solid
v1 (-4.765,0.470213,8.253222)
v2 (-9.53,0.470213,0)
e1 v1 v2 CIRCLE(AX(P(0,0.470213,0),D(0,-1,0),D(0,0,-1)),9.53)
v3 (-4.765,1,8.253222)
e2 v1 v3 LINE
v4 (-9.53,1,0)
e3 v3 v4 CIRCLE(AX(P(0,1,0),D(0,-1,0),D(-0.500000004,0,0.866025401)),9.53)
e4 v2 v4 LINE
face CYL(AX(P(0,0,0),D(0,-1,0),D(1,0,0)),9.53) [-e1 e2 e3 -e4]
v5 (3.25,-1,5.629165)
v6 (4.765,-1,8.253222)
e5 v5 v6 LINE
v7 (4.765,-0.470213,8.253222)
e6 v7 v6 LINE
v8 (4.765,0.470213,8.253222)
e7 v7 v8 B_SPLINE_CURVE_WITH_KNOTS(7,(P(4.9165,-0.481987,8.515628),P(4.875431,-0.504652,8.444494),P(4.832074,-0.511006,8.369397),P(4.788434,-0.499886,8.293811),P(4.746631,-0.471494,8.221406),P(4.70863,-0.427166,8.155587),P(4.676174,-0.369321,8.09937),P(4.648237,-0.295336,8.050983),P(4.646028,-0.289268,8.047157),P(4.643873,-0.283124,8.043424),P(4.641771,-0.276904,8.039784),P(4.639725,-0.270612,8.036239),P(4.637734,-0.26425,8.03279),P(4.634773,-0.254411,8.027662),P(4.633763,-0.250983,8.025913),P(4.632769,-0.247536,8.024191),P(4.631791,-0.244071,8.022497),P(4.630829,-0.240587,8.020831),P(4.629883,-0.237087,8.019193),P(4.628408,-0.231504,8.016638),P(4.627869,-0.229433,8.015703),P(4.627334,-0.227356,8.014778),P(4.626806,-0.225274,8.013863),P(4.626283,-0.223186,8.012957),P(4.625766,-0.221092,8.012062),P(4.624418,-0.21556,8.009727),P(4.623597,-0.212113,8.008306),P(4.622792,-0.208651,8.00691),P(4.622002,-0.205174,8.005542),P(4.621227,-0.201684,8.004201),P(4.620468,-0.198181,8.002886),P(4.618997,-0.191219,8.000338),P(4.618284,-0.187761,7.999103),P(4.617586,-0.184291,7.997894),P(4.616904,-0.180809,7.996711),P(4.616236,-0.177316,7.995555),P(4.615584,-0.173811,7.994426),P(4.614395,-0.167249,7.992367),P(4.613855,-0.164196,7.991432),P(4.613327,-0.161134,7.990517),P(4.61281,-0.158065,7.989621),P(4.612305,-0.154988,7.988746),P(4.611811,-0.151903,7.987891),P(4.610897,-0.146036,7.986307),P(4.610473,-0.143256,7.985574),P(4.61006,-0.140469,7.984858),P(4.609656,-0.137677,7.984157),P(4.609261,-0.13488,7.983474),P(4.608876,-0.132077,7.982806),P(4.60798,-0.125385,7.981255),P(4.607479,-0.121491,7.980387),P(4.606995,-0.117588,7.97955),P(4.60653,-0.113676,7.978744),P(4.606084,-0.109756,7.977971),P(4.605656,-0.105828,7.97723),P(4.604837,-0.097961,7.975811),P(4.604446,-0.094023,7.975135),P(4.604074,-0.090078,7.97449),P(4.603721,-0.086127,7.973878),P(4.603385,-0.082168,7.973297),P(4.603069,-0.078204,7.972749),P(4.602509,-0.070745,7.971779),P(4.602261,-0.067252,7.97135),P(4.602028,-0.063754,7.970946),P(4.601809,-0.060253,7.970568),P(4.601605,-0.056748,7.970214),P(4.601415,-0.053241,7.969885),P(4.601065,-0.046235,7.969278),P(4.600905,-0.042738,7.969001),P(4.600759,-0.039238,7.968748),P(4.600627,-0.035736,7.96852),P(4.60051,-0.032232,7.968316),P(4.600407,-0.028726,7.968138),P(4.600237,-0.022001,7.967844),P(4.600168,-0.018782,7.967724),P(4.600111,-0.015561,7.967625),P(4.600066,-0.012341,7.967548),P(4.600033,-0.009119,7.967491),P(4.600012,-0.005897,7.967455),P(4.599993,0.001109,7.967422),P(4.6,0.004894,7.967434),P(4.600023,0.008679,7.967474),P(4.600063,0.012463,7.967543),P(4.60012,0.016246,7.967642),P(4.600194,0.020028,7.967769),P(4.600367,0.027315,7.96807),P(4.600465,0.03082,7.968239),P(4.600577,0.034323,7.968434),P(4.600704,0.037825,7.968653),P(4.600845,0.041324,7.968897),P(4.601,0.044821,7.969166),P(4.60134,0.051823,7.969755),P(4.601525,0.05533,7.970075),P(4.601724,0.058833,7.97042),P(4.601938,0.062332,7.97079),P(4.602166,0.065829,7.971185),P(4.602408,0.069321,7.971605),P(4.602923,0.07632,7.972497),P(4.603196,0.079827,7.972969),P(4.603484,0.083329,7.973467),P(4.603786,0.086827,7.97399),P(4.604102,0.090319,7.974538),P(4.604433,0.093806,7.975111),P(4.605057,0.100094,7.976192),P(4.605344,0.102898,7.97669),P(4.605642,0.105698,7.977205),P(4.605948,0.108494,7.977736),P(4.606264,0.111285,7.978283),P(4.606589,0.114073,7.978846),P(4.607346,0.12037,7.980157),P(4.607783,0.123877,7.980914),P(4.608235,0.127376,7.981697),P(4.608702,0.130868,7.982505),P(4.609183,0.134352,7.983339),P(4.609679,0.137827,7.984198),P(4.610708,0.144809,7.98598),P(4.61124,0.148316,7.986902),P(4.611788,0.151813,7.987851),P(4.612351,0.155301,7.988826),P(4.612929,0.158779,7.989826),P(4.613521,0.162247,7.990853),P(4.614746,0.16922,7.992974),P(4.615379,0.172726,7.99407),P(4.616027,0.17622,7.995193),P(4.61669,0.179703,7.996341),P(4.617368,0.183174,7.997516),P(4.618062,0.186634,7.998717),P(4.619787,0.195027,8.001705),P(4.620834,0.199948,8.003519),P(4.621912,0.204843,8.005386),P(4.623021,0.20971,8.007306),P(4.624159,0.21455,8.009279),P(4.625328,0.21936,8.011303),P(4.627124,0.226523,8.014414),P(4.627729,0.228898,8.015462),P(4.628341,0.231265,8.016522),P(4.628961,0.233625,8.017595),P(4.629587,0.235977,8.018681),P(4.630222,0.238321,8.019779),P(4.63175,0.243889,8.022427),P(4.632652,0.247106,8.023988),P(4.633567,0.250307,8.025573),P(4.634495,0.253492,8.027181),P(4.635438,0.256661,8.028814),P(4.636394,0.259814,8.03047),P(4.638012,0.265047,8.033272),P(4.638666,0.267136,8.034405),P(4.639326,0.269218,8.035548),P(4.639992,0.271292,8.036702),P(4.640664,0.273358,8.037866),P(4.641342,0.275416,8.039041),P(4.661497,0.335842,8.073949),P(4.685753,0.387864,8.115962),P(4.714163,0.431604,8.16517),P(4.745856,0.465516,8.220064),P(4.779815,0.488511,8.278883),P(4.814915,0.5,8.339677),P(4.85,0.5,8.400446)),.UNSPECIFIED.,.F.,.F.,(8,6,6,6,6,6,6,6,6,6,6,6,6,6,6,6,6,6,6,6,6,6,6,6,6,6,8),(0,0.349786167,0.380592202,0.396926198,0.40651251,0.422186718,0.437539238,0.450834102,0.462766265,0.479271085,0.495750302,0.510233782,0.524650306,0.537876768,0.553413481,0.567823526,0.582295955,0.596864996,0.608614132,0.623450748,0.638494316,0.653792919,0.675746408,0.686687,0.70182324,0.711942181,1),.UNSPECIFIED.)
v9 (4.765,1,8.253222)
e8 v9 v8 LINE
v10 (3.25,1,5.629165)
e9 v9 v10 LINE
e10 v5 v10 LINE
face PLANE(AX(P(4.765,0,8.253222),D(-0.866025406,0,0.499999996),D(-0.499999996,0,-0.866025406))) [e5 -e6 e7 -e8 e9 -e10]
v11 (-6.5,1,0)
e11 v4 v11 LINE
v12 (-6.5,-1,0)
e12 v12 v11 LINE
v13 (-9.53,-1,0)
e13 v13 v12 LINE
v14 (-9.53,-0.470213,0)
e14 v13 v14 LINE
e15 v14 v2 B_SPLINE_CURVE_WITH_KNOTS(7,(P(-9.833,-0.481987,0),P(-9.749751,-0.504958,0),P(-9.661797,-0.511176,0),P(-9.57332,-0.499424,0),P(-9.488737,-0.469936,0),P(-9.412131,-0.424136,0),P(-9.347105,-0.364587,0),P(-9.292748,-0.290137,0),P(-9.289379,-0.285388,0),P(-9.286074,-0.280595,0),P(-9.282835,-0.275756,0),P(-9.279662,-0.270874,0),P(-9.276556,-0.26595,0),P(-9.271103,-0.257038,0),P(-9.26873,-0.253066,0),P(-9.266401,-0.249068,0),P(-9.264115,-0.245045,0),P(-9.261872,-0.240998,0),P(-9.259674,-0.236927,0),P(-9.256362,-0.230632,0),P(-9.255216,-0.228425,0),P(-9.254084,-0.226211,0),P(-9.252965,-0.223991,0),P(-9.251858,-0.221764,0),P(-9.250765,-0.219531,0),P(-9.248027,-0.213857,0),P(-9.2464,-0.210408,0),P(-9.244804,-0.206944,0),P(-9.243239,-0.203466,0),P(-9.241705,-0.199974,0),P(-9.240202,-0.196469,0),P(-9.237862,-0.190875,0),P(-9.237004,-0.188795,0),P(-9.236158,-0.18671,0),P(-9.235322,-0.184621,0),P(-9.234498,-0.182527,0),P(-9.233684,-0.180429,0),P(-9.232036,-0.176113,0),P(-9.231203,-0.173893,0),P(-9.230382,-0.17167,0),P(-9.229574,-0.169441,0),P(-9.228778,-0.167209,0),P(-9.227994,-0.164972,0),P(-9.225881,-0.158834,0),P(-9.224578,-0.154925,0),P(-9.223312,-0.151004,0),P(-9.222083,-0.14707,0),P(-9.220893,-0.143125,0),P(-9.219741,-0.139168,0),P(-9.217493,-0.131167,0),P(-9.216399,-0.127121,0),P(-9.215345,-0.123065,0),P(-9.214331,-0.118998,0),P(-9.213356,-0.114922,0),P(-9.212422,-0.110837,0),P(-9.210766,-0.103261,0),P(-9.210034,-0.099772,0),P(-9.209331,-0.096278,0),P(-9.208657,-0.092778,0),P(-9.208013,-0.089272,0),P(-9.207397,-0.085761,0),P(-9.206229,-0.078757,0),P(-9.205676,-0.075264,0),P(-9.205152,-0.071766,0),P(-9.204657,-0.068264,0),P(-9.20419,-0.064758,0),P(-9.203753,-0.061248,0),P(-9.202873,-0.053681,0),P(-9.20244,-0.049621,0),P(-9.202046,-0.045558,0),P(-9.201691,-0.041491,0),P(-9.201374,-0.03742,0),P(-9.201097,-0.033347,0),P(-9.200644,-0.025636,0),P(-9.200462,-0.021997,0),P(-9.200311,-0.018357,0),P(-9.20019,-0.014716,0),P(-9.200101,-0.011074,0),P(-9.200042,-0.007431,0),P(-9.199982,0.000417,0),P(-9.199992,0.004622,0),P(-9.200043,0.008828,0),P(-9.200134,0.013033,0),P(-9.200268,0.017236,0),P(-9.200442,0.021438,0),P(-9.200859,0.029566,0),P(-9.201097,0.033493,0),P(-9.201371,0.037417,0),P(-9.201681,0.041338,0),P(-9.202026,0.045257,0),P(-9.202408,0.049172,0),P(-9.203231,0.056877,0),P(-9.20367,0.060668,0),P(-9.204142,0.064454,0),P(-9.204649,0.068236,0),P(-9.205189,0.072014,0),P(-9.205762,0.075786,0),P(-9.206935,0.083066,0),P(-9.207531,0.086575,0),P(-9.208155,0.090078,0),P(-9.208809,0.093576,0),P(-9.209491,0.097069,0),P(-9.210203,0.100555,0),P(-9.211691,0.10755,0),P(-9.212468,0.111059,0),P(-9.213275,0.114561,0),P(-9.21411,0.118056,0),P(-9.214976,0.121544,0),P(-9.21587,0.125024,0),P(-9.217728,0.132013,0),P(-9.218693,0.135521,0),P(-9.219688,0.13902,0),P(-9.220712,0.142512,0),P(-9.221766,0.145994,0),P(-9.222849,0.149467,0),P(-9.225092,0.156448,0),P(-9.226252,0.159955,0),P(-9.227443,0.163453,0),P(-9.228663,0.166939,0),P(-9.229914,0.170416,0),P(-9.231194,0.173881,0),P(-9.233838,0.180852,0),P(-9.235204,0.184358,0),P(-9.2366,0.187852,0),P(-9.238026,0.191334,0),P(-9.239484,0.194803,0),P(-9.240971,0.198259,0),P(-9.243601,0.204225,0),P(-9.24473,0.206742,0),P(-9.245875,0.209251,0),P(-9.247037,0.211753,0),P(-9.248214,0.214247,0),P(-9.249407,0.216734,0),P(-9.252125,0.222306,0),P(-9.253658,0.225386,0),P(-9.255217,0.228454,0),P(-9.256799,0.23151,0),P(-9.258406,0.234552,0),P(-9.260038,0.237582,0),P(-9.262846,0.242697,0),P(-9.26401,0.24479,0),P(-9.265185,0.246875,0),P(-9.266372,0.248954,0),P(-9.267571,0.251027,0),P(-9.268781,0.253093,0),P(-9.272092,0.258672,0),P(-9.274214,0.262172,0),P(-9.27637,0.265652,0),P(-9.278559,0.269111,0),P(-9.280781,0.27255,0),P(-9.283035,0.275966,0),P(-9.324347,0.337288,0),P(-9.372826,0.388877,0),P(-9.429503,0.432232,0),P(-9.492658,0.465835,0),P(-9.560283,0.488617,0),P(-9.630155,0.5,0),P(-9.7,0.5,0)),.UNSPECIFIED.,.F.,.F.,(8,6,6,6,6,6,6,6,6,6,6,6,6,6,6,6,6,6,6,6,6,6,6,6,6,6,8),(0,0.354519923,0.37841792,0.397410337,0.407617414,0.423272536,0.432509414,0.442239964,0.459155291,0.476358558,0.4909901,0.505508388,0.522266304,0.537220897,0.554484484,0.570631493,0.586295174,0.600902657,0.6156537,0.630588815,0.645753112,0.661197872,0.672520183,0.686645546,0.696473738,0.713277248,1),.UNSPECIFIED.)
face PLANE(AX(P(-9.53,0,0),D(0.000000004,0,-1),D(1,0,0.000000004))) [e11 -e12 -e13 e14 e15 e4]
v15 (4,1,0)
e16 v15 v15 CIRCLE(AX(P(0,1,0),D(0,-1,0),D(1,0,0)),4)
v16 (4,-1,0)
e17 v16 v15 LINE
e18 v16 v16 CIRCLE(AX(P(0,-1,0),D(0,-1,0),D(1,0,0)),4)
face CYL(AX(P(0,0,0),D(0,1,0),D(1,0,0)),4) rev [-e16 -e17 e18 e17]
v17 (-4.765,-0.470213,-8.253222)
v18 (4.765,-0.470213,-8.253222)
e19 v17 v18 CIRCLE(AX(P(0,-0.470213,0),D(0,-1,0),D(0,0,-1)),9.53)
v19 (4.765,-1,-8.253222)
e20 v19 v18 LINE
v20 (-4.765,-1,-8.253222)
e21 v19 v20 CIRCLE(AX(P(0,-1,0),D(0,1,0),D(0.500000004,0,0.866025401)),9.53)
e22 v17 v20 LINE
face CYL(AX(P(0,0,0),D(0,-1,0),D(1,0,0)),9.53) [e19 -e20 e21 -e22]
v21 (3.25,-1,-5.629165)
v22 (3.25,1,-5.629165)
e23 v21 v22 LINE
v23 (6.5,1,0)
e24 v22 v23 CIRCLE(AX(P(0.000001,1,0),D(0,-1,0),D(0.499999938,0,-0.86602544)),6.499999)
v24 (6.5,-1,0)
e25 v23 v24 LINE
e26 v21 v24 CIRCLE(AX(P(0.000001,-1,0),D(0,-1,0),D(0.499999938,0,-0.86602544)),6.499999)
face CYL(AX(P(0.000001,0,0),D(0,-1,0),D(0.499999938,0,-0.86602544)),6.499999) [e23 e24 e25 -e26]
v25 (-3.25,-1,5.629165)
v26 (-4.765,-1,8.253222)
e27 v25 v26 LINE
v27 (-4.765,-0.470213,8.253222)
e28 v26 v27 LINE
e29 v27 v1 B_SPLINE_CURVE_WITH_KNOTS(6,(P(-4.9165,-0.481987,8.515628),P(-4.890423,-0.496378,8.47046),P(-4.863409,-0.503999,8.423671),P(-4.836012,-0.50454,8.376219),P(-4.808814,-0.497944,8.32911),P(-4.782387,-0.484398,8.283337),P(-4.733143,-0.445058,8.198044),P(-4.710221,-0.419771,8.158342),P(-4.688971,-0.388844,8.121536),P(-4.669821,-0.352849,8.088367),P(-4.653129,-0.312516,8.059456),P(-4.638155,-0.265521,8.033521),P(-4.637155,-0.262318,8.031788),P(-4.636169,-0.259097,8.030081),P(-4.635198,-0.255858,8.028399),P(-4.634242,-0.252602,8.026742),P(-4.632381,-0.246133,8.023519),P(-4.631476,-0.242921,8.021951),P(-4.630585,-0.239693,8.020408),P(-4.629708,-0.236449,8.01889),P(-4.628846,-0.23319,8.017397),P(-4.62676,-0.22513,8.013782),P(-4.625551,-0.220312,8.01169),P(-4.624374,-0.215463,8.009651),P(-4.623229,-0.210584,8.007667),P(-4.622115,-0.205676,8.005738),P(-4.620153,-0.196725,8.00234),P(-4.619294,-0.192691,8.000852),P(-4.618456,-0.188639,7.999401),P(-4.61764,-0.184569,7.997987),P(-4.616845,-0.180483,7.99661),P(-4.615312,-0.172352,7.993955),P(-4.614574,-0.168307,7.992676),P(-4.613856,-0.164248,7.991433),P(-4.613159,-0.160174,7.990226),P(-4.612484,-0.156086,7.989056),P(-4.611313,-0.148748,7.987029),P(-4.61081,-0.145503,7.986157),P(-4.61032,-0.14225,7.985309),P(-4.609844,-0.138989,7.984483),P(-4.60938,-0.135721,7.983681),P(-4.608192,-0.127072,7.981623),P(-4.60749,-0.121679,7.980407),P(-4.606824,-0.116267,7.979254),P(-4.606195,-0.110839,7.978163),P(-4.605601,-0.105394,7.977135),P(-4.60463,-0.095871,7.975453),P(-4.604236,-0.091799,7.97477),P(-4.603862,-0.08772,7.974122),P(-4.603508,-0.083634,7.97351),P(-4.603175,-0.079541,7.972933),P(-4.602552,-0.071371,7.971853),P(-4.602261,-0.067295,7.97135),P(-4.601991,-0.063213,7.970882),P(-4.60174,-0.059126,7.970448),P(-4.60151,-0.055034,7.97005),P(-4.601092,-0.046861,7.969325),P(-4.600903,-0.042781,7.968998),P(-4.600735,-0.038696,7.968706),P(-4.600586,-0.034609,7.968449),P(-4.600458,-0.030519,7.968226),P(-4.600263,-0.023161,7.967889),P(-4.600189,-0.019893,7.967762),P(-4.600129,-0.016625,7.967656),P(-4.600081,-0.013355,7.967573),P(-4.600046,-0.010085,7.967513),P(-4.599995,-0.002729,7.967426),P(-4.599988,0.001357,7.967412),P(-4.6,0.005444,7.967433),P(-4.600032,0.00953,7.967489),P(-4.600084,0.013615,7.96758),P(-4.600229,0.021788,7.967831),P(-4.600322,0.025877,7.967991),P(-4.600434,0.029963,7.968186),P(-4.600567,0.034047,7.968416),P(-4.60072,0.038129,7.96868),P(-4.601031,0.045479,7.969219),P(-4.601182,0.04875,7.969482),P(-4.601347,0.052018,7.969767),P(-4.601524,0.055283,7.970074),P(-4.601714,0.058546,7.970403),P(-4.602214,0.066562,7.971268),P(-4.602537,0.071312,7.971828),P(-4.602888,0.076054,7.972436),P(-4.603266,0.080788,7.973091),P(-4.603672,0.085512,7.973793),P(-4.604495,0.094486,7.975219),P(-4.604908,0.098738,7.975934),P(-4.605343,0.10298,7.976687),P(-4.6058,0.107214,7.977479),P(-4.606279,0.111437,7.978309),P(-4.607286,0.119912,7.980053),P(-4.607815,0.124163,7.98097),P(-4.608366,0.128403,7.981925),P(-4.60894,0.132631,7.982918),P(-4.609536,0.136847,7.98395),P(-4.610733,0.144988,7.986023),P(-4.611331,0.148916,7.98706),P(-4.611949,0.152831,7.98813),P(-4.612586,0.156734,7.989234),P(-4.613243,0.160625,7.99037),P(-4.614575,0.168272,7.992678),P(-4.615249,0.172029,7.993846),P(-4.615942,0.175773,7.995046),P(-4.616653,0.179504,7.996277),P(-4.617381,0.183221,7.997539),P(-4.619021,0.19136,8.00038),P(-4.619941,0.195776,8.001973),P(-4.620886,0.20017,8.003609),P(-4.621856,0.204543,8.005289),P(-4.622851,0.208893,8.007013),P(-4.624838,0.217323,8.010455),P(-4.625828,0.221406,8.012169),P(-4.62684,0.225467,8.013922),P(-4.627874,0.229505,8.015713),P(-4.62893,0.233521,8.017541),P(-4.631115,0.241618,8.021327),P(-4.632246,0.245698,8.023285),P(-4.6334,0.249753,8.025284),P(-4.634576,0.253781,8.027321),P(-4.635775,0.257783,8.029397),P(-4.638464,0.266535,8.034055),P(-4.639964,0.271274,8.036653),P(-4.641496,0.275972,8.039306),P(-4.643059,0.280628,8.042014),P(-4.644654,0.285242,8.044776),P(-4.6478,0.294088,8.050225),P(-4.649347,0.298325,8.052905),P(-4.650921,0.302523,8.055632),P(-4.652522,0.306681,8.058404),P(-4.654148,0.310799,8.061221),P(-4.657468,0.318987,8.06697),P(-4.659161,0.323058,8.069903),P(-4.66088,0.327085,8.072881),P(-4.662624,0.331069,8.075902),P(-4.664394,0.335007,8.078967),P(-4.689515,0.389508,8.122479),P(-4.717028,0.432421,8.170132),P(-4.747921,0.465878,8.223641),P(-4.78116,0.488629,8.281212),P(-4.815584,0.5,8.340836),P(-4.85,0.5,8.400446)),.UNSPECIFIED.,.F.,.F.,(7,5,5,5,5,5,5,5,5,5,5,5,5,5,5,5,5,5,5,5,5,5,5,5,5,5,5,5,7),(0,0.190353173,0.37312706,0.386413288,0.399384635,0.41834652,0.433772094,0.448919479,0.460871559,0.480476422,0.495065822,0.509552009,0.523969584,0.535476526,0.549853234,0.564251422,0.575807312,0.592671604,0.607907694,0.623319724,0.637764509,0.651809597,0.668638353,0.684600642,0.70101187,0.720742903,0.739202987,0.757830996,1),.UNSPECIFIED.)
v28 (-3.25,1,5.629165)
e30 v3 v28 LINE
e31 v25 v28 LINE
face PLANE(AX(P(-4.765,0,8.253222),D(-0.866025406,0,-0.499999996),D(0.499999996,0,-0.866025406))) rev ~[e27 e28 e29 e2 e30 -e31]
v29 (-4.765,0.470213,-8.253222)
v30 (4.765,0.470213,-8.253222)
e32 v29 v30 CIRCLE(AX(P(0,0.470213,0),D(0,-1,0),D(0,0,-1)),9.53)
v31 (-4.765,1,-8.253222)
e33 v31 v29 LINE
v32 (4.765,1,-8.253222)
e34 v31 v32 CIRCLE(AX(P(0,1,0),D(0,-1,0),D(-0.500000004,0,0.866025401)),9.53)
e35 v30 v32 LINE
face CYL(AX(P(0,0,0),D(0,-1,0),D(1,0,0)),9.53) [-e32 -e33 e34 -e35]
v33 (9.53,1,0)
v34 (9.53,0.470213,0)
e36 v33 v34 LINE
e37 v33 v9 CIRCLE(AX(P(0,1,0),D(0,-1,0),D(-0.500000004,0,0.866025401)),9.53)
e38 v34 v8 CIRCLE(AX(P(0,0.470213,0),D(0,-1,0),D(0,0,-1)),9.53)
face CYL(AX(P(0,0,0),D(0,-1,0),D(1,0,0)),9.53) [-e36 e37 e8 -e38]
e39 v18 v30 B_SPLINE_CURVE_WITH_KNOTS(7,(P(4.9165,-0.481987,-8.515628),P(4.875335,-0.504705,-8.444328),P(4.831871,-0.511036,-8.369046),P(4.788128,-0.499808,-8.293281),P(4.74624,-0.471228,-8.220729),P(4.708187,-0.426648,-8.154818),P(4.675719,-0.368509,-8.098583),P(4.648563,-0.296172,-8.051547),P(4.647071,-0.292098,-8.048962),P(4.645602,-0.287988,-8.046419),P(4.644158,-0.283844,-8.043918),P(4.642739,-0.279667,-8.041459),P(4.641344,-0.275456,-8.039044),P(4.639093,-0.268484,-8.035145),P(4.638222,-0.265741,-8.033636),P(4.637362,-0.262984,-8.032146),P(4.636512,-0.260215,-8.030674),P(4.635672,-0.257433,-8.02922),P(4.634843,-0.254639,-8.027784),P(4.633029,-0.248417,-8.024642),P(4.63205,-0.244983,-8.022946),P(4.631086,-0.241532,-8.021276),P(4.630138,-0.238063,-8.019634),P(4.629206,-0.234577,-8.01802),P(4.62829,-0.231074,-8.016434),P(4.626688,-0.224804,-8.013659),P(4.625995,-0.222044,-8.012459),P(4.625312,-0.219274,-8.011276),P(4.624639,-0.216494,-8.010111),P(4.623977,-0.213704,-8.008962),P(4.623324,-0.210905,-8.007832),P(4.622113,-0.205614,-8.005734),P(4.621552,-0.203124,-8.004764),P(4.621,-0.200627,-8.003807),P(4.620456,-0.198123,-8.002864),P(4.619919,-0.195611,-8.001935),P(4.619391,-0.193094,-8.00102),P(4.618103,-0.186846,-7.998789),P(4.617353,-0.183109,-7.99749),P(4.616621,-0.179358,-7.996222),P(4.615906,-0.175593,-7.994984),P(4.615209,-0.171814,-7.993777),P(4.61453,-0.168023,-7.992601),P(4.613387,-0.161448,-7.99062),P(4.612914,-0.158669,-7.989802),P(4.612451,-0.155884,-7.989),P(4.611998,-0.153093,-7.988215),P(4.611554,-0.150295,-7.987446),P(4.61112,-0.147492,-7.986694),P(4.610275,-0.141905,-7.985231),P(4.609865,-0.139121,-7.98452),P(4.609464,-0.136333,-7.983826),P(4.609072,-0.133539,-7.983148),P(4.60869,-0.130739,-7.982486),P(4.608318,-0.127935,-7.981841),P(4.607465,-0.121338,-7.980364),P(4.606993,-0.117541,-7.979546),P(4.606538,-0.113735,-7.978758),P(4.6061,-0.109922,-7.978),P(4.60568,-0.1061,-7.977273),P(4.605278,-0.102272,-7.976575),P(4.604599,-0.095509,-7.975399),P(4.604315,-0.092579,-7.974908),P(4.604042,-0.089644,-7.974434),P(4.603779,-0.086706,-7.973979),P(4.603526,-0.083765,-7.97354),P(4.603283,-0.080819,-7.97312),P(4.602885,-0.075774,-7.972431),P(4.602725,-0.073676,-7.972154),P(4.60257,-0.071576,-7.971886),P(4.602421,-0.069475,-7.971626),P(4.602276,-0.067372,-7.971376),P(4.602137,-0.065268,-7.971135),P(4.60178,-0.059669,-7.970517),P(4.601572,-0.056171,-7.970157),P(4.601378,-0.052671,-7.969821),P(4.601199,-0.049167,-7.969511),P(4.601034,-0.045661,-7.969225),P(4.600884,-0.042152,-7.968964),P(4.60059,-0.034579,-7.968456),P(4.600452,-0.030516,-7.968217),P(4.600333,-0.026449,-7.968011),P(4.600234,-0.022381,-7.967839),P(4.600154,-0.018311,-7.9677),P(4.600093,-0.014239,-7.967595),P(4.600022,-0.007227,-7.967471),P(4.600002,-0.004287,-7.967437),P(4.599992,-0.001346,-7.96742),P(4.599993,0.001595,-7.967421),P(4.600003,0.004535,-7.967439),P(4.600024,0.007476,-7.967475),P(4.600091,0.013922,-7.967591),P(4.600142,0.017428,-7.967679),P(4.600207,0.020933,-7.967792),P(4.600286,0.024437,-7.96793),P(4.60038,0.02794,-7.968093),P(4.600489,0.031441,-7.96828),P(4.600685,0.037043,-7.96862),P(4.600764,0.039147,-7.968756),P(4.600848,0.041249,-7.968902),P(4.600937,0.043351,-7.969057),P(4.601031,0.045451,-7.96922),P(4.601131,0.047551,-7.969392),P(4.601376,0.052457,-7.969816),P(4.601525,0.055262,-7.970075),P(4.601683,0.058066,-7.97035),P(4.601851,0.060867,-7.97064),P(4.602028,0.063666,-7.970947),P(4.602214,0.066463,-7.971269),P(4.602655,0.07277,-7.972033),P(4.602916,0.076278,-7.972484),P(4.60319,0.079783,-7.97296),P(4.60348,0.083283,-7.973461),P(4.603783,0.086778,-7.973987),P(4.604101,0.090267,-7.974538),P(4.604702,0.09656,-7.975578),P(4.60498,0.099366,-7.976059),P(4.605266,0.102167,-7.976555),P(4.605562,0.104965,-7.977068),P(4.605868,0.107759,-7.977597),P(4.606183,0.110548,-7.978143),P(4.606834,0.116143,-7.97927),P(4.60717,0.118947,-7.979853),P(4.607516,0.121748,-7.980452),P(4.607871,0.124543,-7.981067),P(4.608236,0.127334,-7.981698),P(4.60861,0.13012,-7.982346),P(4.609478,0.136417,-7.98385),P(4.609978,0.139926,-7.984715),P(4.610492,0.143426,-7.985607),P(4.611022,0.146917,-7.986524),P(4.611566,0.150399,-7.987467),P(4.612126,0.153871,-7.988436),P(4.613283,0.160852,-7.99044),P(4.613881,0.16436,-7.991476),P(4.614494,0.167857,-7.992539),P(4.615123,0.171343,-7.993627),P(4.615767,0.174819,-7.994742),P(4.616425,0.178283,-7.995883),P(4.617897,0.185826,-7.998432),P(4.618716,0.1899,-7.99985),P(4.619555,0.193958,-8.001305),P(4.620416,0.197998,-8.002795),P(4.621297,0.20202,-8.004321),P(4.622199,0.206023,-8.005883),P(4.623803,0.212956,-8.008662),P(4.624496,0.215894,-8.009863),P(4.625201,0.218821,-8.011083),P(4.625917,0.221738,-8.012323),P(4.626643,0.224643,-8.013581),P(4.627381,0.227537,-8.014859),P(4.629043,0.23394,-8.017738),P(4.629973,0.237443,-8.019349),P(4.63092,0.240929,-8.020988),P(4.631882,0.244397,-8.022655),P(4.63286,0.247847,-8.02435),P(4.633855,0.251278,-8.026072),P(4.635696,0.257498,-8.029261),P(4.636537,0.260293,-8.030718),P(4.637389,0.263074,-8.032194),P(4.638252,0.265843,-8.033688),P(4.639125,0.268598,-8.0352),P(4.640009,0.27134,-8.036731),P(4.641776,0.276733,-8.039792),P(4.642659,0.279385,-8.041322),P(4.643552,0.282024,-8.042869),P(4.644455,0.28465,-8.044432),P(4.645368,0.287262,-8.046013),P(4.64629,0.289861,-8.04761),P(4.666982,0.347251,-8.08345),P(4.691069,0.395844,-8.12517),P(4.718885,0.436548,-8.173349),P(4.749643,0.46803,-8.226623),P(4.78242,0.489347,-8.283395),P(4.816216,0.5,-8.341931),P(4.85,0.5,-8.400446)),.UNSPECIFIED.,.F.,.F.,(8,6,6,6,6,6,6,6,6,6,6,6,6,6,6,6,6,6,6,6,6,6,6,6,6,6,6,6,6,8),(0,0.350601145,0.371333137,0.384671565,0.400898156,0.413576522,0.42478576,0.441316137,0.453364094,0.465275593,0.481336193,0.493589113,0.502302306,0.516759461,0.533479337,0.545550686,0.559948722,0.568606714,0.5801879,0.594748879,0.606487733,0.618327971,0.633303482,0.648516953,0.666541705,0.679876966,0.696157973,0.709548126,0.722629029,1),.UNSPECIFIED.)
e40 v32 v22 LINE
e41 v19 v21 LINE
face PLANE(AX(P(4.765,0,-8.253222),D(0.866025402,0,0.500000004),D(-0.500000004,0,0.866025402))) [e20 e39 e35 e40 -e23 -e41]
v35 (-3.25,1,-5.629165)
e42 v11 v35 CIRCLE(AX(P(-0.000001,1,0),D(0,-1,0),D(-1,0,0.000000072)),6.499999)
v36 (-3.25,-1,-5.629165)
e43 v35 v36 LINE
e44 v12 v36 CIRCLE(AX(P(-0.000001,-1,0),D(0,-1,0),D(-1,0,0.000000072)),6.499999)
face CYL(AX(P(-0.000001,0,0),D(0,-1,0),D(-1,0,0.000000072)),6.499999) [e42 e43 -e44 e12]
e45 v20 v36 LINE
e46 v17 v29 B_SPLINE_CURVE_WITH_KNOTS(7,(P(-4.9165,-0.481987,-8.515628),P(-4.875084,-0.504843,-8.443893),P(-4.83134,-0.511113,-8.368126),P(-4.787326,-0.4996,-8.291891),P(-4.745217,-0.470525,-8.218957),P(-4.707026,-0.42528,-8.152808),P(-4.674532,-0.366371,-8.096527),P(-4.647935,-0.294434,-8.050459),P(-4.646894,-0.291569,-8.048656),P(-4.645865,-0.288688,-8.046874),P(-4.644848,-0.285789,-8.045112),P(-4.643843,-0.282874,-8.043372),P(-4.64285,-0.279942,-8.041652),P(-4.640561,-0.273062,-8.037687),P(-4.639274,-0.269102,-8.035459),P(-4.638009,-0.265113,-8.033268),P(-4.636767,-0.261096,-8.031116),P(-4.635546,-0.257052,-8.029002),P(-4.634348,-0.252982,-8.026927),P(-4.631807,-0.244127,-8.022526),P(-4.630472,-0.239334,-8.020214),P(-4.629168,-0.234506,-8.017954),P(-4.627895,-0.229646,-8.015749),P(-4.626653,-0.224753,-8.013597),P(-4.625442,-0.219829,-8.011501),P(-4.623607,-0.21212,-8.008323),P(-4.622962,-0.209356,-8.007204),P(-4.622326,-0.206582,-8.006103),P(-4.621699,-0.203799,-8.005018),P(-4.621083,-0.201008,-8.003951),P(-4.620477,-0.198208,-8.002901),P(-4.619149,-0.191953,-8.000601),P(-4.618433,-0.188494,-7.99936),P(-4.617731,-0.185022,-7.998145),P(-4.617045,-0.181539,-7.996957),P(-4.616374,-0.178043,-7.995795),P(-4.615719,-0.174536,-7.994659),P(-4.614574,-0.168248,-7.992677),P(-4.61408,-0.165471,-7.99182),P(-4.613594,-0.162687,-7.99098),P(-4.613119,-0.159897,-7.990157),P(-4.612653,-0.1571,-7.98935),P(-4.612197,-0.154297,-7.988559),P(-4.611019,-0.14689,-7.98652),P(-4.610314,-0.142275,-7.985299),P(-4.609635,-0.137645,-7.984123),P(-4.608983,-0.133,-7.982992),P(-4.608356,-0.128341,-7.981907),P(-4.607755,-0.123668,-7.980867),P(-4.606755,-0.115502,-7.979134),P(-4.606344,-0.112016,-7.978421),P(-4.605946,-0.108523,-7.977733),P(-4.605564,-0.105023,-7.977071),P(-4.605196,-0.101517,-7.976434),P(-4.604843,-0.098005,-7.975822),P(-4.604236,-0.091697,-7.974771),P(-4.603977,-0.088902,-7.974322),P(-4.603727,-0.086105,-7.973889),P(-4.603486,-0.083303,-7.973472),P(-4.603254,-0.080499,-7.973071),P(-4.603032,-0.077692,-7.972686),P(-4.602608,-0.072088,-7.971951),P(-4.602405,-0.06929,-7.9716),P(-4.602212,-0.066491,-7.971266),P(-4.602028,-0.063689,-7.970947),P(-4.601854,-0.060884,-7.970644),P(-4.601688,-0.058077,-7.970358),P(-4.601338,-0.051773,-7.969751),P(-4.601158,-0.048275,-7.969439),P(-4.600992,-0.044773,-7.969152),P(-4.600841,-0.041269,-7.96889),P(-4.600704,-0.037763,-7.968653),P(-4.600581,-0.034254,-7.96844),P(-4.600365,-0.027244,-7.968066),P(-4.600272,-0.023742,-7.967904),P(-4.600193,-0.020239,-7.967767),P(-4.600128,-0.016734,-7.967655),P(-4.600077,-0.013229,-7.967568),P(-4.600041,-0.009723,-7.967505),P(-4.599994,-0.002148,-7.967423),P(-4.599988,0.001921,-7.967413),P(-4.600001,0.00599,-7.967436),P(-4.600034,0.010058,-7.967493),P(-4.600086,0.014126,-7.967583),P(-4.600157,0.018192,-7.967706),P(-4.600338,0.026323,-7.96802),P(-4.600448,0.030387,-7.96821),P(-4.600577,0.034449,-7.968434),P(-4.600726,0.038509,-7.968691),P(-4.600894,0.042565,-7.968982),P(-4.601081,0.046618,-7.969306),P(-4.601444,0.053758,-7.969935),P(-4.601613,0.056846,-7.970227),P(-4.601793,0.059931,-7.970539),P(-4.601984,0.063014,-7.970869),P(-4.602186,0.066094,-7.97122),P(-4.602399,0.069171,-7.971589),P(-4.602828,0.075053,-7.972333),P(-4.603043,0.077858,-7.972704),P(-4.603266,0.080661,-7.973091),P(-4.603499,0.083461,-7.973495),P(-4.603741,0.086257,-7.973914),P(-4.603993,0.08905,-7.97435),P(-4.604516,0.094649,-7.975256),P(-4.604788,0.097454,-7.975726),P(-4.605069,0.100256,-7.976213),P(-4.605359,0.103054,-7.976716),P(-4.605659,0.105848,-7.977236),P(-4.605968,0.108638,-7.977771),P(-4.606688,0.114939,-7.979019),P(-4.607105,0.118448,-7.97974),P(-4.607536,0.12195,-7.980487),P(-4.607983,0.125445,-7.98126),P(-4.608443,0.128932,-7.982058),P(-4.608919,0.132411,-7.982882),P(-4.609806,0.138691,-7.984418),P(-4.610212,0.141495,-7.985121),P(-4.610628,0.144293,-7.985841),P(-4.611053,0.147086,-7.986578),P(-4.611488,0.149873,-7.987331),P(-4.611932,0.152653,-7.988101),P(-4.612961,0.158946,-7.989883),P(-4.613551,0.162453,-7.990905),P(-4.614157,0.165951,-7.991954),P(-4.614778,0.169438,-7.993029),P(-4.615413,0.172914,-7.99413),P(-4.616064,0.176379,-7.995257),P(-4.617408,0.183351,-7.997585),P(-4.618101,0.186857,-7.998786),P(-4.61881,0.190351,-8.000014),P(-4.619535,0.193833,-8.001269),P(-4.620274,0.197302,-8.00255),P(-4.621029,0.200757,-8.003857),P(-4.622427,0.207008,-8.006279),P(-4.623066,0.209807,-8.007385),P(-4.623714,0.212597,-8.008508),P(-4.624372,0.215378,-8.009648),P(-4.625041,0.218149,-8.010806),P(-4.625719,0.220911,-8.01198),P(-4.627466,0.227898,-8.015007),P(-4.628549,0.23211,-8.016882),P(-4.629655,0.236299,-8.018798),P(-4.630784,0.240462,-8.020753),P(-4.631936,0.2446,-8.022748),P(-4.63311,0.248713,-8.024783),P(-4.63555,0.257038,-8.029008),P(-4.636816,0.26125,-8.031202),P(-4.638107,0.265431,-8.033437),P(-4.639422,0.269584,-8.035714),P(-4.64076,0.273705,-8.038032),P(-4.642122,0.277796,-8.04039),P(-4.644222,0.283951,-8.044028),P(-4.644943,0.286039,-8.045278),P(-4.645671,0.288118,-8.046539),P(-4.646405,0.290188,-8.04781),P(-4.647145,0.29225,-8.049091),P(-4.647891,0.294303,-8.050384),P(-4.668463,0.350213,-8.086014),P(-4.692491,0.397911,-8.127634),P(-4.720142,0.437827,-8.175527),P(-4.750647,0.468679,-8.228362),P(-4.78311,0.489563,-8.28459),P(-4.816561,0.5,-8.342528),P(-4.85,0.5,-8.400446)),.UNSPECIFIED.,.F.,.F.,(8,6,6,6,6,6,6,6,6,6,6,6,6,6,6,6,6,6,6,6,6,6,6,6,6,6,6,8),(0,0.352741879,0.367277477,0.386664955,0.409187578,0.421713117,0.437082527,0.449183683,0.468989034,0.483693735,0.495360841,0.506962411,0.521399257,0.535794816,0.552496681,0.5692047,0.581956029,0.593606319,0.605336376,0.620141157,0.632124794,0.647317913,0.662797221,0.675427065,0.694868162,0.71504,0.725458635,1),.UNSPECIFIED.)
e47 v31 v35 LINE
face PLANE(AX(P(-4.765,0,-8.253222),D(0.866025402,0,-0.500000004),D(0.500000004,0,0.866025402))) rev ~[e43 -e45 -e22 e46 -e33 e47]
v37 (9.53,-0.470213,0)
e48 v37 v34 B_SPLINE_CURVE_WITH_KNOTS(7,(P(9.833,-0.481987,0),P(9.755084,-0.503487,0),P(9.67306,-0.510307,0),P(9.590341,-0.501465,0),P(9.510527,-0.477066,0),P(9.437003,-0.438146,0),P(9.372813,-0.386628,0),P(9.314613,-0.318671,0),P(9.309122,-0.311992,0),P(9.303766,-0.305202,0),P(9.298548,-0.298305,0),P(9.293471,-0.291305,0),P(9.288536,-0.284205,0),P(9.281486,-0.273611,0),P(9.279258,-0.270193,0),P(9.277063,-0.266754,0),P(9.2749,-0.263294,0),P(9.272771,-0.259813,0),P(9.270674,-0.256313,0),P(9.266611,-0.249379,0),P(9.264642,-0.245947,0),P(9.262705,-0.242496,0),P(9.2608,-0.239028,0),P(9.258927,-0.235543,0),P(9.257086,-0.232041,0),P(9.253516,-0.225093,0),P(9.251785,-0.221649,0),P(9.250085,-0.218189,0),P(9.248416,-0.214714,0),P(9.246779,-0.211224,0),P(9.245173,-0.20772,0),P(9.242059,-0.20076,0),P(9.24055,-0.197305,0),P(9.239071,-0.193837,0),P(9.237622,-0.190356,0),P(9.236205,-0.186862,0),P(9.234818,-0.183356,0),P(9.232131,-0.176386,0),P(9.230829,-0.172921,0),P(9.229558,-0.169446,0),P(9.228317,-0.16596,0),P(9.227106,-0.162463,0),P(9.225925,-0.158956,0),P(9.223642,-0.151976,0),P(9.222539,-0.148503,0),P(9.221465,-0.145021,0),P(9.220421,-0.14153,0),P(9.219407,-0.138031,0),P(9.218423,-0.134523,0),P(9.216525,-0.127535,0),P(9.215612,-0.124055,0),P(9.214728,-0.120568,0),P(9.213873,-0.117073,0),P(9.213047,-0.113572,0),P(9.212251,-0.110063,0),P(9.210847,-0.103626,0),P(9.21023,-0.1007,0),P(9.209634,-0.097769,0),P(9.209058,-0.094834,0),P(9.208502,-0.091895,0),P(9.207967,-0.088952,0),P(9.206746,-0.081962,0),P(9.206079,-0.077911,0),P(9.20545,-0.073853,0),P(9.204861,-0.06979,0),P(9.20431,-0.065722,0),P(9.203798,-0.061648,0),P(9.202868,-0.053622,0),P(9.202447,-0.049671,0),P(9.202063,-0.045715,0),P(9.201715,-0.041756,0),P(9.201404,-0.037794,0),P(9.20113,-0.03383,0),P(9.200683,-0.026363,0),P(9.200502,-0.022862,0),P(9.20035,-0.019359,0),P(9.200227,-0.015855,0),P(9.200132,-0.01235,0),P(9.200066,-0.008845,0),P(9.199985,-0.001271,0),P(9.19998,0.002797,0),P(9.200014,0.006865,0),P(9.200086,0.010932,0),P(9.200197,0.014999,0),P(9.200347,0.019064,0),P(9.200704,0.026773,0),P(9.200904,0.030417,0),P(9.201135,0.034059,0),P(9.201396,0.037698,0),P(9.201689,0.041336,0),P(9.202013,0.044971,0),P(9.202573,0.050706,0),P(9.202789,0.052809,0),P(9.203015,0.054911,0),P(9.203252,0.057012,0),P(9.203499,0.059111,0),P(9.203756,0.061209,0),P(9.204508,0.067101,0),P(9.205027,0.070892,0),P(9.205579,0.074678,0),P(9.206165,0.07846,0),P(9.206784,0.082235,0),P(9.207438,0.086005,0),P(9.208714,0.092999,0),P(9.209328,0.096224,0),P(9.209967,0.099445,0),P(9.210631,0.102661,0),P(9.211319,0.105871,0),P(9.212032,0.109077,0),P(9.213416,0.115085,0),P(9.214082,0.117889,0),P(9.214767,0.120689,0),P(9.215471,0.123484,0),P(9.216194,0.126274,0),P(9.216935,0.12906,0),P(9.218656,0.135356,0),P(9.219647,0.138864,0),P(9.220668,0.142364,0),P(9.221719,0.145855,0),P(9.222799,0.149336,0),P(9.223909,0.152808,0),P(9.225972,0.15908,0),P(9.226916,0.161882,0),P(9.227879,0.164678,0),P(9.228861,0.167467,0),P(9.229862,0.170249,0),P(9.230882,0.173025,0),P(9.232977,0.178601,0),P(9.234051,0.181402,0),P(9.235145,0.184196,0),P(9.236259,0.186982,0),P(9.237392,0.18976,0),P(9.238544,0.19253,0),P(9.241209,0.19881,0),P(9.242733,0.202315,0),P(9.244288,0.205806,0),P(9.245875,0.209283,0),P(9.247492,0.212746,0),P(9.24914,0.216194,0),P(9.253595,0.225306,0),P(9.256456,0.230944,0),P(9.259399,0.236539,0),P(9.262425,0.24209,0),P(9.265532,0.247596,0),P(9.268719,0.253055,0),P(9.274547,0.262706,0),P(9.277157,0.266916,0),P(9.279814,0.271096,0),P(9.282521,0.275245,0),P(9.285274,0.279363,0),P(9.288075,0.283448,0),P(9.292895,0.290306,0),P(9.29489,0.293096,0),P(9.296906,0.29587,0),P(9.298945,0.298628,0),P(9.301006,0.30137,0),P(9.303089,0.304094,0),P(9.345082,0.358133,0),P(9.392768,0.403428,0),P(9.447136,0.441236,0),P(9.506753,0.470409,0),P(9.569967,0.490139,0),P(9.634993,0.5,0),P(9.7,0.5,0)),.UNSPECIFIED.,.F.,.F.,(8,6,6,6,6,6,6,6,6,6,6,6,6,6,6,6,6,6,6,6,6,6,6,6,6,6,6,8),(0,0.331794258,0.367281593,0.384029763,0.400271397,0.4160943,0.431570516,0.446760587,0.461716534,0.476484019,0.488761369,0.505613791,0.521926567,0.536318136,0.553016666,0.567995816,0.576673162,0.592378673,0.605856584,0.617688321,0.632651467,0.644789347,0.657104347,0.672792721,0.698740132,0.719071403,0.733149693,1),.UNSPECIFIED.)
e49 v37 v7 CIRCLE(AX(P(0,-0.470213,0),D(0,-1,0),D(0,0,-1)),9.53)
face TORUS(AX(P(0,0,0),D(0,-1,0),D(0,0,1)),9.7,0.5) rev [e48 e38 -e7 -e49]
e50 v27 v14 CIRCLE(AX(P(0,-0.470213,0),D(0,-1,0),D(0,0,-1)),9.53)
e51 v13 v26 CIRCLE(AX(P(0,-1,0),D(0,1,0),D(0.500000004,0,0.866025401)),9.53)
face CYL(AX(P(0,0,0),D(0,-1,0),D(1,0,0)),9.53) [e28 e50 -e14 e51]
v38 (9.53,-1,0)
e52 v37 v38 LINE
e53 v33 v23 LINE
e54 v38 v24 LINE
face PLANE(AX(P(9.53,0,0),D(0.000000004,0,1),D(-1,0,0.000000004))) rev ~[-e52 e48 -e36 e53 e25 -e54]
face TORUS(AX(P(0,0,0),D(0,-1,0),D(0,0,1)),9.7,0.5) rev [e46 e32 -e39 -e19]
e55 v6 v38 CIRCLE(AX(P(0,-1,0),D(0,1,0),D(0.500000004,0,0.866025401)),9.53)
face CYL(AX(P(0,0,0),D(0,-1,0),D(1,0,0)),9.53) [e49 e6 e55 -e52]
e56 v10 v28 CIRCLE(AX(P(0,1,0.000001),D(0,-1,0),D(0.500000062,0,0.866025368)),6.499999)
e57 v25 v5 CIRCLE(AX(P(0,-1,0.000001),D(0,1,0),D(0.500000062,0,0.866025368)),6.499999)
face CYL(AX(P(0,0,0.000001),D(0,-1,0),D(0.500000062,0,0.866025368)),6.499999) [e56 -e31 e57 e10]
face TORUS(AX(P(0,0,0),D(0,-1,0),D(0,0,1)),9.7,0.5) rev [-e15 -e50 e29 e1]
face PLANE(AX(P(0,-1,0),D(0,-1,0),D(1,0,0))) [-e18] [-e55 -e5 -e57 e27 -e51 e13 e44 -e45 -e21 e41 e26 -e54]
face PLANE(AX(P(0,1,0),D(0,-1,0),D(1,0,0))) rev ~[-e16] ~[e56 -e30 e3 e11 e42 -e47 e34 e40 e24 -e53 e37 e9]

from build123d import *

# Parameters (mm, degrees)
SKETCH005_R          = 9.53
SKETCH005_R_2        = 4
PAD001_DEPTH         = 1
POCKET001_DEPTH      = 55.059013
POCKET001_DEPTH_BACK = 55.059013
POLARPATTERN_COUNT   = 3
SKETCH007_R          = 0.5


with BuildPart() as part:
    # Sketch005 → Pad001 (new body, symmetric)
    with BuildSketch(Plane.XZ):
        Circle(SKETCH005_R)
        Circle(SKETCH005_R_2, mode=Mode.SUBTRACT)
    extrude(amount=PAD001_DEPTH, both=True)

    # Sketch006 → Pocket001 (cut, two sides)
    with BuildSketch(Plane.XZ) as pocket001_sk:
        with BuildLine():
            ThreePointArc((4.765, 8.253222), (0, 9.53), (-4.765, 8.253222))
            Line((-4.765, 8.253222), (-3.25, 5.629165))
            ThreePointArc((3.25, 5.629165), (0, 6.5), (-3.25, 5.629165))
            Line((4.765, 8.253222), (3.25, 5.629165))
        make_face()
    pocket001 = extrude(amount=-POCKET001_DEPTH, mode=Mode.SUBTRACT) + extrude(pocket001_sk.sketch, amount=POCKET001_DEPTH_BACK, mode=Mode.SUBTRACT)

    # PolarPattern: Pocket001 ×3 about axis
    polarpattern_axis = Axis((0, 0, 0), (0, -1, 0))
    for i in range(1, POLARPATTERN_COUNT):
        add(pocket001.rotate(polarpattern_axis, i * 360 / POLARPATTERN_COUNT), mode=Mode.SUBTRACT)

    # Sketch007 → Groove001 (revolve, cut)
    with BuildSketch(Plane.YZ):
        with Locations((0, 9.7)):
            Circle(SKETCH007_R)
    revolve(axis=Axis((0, 0, 0), (0, 1, 0)), mode=Mode.SUBTRACT)


solid = part.part
